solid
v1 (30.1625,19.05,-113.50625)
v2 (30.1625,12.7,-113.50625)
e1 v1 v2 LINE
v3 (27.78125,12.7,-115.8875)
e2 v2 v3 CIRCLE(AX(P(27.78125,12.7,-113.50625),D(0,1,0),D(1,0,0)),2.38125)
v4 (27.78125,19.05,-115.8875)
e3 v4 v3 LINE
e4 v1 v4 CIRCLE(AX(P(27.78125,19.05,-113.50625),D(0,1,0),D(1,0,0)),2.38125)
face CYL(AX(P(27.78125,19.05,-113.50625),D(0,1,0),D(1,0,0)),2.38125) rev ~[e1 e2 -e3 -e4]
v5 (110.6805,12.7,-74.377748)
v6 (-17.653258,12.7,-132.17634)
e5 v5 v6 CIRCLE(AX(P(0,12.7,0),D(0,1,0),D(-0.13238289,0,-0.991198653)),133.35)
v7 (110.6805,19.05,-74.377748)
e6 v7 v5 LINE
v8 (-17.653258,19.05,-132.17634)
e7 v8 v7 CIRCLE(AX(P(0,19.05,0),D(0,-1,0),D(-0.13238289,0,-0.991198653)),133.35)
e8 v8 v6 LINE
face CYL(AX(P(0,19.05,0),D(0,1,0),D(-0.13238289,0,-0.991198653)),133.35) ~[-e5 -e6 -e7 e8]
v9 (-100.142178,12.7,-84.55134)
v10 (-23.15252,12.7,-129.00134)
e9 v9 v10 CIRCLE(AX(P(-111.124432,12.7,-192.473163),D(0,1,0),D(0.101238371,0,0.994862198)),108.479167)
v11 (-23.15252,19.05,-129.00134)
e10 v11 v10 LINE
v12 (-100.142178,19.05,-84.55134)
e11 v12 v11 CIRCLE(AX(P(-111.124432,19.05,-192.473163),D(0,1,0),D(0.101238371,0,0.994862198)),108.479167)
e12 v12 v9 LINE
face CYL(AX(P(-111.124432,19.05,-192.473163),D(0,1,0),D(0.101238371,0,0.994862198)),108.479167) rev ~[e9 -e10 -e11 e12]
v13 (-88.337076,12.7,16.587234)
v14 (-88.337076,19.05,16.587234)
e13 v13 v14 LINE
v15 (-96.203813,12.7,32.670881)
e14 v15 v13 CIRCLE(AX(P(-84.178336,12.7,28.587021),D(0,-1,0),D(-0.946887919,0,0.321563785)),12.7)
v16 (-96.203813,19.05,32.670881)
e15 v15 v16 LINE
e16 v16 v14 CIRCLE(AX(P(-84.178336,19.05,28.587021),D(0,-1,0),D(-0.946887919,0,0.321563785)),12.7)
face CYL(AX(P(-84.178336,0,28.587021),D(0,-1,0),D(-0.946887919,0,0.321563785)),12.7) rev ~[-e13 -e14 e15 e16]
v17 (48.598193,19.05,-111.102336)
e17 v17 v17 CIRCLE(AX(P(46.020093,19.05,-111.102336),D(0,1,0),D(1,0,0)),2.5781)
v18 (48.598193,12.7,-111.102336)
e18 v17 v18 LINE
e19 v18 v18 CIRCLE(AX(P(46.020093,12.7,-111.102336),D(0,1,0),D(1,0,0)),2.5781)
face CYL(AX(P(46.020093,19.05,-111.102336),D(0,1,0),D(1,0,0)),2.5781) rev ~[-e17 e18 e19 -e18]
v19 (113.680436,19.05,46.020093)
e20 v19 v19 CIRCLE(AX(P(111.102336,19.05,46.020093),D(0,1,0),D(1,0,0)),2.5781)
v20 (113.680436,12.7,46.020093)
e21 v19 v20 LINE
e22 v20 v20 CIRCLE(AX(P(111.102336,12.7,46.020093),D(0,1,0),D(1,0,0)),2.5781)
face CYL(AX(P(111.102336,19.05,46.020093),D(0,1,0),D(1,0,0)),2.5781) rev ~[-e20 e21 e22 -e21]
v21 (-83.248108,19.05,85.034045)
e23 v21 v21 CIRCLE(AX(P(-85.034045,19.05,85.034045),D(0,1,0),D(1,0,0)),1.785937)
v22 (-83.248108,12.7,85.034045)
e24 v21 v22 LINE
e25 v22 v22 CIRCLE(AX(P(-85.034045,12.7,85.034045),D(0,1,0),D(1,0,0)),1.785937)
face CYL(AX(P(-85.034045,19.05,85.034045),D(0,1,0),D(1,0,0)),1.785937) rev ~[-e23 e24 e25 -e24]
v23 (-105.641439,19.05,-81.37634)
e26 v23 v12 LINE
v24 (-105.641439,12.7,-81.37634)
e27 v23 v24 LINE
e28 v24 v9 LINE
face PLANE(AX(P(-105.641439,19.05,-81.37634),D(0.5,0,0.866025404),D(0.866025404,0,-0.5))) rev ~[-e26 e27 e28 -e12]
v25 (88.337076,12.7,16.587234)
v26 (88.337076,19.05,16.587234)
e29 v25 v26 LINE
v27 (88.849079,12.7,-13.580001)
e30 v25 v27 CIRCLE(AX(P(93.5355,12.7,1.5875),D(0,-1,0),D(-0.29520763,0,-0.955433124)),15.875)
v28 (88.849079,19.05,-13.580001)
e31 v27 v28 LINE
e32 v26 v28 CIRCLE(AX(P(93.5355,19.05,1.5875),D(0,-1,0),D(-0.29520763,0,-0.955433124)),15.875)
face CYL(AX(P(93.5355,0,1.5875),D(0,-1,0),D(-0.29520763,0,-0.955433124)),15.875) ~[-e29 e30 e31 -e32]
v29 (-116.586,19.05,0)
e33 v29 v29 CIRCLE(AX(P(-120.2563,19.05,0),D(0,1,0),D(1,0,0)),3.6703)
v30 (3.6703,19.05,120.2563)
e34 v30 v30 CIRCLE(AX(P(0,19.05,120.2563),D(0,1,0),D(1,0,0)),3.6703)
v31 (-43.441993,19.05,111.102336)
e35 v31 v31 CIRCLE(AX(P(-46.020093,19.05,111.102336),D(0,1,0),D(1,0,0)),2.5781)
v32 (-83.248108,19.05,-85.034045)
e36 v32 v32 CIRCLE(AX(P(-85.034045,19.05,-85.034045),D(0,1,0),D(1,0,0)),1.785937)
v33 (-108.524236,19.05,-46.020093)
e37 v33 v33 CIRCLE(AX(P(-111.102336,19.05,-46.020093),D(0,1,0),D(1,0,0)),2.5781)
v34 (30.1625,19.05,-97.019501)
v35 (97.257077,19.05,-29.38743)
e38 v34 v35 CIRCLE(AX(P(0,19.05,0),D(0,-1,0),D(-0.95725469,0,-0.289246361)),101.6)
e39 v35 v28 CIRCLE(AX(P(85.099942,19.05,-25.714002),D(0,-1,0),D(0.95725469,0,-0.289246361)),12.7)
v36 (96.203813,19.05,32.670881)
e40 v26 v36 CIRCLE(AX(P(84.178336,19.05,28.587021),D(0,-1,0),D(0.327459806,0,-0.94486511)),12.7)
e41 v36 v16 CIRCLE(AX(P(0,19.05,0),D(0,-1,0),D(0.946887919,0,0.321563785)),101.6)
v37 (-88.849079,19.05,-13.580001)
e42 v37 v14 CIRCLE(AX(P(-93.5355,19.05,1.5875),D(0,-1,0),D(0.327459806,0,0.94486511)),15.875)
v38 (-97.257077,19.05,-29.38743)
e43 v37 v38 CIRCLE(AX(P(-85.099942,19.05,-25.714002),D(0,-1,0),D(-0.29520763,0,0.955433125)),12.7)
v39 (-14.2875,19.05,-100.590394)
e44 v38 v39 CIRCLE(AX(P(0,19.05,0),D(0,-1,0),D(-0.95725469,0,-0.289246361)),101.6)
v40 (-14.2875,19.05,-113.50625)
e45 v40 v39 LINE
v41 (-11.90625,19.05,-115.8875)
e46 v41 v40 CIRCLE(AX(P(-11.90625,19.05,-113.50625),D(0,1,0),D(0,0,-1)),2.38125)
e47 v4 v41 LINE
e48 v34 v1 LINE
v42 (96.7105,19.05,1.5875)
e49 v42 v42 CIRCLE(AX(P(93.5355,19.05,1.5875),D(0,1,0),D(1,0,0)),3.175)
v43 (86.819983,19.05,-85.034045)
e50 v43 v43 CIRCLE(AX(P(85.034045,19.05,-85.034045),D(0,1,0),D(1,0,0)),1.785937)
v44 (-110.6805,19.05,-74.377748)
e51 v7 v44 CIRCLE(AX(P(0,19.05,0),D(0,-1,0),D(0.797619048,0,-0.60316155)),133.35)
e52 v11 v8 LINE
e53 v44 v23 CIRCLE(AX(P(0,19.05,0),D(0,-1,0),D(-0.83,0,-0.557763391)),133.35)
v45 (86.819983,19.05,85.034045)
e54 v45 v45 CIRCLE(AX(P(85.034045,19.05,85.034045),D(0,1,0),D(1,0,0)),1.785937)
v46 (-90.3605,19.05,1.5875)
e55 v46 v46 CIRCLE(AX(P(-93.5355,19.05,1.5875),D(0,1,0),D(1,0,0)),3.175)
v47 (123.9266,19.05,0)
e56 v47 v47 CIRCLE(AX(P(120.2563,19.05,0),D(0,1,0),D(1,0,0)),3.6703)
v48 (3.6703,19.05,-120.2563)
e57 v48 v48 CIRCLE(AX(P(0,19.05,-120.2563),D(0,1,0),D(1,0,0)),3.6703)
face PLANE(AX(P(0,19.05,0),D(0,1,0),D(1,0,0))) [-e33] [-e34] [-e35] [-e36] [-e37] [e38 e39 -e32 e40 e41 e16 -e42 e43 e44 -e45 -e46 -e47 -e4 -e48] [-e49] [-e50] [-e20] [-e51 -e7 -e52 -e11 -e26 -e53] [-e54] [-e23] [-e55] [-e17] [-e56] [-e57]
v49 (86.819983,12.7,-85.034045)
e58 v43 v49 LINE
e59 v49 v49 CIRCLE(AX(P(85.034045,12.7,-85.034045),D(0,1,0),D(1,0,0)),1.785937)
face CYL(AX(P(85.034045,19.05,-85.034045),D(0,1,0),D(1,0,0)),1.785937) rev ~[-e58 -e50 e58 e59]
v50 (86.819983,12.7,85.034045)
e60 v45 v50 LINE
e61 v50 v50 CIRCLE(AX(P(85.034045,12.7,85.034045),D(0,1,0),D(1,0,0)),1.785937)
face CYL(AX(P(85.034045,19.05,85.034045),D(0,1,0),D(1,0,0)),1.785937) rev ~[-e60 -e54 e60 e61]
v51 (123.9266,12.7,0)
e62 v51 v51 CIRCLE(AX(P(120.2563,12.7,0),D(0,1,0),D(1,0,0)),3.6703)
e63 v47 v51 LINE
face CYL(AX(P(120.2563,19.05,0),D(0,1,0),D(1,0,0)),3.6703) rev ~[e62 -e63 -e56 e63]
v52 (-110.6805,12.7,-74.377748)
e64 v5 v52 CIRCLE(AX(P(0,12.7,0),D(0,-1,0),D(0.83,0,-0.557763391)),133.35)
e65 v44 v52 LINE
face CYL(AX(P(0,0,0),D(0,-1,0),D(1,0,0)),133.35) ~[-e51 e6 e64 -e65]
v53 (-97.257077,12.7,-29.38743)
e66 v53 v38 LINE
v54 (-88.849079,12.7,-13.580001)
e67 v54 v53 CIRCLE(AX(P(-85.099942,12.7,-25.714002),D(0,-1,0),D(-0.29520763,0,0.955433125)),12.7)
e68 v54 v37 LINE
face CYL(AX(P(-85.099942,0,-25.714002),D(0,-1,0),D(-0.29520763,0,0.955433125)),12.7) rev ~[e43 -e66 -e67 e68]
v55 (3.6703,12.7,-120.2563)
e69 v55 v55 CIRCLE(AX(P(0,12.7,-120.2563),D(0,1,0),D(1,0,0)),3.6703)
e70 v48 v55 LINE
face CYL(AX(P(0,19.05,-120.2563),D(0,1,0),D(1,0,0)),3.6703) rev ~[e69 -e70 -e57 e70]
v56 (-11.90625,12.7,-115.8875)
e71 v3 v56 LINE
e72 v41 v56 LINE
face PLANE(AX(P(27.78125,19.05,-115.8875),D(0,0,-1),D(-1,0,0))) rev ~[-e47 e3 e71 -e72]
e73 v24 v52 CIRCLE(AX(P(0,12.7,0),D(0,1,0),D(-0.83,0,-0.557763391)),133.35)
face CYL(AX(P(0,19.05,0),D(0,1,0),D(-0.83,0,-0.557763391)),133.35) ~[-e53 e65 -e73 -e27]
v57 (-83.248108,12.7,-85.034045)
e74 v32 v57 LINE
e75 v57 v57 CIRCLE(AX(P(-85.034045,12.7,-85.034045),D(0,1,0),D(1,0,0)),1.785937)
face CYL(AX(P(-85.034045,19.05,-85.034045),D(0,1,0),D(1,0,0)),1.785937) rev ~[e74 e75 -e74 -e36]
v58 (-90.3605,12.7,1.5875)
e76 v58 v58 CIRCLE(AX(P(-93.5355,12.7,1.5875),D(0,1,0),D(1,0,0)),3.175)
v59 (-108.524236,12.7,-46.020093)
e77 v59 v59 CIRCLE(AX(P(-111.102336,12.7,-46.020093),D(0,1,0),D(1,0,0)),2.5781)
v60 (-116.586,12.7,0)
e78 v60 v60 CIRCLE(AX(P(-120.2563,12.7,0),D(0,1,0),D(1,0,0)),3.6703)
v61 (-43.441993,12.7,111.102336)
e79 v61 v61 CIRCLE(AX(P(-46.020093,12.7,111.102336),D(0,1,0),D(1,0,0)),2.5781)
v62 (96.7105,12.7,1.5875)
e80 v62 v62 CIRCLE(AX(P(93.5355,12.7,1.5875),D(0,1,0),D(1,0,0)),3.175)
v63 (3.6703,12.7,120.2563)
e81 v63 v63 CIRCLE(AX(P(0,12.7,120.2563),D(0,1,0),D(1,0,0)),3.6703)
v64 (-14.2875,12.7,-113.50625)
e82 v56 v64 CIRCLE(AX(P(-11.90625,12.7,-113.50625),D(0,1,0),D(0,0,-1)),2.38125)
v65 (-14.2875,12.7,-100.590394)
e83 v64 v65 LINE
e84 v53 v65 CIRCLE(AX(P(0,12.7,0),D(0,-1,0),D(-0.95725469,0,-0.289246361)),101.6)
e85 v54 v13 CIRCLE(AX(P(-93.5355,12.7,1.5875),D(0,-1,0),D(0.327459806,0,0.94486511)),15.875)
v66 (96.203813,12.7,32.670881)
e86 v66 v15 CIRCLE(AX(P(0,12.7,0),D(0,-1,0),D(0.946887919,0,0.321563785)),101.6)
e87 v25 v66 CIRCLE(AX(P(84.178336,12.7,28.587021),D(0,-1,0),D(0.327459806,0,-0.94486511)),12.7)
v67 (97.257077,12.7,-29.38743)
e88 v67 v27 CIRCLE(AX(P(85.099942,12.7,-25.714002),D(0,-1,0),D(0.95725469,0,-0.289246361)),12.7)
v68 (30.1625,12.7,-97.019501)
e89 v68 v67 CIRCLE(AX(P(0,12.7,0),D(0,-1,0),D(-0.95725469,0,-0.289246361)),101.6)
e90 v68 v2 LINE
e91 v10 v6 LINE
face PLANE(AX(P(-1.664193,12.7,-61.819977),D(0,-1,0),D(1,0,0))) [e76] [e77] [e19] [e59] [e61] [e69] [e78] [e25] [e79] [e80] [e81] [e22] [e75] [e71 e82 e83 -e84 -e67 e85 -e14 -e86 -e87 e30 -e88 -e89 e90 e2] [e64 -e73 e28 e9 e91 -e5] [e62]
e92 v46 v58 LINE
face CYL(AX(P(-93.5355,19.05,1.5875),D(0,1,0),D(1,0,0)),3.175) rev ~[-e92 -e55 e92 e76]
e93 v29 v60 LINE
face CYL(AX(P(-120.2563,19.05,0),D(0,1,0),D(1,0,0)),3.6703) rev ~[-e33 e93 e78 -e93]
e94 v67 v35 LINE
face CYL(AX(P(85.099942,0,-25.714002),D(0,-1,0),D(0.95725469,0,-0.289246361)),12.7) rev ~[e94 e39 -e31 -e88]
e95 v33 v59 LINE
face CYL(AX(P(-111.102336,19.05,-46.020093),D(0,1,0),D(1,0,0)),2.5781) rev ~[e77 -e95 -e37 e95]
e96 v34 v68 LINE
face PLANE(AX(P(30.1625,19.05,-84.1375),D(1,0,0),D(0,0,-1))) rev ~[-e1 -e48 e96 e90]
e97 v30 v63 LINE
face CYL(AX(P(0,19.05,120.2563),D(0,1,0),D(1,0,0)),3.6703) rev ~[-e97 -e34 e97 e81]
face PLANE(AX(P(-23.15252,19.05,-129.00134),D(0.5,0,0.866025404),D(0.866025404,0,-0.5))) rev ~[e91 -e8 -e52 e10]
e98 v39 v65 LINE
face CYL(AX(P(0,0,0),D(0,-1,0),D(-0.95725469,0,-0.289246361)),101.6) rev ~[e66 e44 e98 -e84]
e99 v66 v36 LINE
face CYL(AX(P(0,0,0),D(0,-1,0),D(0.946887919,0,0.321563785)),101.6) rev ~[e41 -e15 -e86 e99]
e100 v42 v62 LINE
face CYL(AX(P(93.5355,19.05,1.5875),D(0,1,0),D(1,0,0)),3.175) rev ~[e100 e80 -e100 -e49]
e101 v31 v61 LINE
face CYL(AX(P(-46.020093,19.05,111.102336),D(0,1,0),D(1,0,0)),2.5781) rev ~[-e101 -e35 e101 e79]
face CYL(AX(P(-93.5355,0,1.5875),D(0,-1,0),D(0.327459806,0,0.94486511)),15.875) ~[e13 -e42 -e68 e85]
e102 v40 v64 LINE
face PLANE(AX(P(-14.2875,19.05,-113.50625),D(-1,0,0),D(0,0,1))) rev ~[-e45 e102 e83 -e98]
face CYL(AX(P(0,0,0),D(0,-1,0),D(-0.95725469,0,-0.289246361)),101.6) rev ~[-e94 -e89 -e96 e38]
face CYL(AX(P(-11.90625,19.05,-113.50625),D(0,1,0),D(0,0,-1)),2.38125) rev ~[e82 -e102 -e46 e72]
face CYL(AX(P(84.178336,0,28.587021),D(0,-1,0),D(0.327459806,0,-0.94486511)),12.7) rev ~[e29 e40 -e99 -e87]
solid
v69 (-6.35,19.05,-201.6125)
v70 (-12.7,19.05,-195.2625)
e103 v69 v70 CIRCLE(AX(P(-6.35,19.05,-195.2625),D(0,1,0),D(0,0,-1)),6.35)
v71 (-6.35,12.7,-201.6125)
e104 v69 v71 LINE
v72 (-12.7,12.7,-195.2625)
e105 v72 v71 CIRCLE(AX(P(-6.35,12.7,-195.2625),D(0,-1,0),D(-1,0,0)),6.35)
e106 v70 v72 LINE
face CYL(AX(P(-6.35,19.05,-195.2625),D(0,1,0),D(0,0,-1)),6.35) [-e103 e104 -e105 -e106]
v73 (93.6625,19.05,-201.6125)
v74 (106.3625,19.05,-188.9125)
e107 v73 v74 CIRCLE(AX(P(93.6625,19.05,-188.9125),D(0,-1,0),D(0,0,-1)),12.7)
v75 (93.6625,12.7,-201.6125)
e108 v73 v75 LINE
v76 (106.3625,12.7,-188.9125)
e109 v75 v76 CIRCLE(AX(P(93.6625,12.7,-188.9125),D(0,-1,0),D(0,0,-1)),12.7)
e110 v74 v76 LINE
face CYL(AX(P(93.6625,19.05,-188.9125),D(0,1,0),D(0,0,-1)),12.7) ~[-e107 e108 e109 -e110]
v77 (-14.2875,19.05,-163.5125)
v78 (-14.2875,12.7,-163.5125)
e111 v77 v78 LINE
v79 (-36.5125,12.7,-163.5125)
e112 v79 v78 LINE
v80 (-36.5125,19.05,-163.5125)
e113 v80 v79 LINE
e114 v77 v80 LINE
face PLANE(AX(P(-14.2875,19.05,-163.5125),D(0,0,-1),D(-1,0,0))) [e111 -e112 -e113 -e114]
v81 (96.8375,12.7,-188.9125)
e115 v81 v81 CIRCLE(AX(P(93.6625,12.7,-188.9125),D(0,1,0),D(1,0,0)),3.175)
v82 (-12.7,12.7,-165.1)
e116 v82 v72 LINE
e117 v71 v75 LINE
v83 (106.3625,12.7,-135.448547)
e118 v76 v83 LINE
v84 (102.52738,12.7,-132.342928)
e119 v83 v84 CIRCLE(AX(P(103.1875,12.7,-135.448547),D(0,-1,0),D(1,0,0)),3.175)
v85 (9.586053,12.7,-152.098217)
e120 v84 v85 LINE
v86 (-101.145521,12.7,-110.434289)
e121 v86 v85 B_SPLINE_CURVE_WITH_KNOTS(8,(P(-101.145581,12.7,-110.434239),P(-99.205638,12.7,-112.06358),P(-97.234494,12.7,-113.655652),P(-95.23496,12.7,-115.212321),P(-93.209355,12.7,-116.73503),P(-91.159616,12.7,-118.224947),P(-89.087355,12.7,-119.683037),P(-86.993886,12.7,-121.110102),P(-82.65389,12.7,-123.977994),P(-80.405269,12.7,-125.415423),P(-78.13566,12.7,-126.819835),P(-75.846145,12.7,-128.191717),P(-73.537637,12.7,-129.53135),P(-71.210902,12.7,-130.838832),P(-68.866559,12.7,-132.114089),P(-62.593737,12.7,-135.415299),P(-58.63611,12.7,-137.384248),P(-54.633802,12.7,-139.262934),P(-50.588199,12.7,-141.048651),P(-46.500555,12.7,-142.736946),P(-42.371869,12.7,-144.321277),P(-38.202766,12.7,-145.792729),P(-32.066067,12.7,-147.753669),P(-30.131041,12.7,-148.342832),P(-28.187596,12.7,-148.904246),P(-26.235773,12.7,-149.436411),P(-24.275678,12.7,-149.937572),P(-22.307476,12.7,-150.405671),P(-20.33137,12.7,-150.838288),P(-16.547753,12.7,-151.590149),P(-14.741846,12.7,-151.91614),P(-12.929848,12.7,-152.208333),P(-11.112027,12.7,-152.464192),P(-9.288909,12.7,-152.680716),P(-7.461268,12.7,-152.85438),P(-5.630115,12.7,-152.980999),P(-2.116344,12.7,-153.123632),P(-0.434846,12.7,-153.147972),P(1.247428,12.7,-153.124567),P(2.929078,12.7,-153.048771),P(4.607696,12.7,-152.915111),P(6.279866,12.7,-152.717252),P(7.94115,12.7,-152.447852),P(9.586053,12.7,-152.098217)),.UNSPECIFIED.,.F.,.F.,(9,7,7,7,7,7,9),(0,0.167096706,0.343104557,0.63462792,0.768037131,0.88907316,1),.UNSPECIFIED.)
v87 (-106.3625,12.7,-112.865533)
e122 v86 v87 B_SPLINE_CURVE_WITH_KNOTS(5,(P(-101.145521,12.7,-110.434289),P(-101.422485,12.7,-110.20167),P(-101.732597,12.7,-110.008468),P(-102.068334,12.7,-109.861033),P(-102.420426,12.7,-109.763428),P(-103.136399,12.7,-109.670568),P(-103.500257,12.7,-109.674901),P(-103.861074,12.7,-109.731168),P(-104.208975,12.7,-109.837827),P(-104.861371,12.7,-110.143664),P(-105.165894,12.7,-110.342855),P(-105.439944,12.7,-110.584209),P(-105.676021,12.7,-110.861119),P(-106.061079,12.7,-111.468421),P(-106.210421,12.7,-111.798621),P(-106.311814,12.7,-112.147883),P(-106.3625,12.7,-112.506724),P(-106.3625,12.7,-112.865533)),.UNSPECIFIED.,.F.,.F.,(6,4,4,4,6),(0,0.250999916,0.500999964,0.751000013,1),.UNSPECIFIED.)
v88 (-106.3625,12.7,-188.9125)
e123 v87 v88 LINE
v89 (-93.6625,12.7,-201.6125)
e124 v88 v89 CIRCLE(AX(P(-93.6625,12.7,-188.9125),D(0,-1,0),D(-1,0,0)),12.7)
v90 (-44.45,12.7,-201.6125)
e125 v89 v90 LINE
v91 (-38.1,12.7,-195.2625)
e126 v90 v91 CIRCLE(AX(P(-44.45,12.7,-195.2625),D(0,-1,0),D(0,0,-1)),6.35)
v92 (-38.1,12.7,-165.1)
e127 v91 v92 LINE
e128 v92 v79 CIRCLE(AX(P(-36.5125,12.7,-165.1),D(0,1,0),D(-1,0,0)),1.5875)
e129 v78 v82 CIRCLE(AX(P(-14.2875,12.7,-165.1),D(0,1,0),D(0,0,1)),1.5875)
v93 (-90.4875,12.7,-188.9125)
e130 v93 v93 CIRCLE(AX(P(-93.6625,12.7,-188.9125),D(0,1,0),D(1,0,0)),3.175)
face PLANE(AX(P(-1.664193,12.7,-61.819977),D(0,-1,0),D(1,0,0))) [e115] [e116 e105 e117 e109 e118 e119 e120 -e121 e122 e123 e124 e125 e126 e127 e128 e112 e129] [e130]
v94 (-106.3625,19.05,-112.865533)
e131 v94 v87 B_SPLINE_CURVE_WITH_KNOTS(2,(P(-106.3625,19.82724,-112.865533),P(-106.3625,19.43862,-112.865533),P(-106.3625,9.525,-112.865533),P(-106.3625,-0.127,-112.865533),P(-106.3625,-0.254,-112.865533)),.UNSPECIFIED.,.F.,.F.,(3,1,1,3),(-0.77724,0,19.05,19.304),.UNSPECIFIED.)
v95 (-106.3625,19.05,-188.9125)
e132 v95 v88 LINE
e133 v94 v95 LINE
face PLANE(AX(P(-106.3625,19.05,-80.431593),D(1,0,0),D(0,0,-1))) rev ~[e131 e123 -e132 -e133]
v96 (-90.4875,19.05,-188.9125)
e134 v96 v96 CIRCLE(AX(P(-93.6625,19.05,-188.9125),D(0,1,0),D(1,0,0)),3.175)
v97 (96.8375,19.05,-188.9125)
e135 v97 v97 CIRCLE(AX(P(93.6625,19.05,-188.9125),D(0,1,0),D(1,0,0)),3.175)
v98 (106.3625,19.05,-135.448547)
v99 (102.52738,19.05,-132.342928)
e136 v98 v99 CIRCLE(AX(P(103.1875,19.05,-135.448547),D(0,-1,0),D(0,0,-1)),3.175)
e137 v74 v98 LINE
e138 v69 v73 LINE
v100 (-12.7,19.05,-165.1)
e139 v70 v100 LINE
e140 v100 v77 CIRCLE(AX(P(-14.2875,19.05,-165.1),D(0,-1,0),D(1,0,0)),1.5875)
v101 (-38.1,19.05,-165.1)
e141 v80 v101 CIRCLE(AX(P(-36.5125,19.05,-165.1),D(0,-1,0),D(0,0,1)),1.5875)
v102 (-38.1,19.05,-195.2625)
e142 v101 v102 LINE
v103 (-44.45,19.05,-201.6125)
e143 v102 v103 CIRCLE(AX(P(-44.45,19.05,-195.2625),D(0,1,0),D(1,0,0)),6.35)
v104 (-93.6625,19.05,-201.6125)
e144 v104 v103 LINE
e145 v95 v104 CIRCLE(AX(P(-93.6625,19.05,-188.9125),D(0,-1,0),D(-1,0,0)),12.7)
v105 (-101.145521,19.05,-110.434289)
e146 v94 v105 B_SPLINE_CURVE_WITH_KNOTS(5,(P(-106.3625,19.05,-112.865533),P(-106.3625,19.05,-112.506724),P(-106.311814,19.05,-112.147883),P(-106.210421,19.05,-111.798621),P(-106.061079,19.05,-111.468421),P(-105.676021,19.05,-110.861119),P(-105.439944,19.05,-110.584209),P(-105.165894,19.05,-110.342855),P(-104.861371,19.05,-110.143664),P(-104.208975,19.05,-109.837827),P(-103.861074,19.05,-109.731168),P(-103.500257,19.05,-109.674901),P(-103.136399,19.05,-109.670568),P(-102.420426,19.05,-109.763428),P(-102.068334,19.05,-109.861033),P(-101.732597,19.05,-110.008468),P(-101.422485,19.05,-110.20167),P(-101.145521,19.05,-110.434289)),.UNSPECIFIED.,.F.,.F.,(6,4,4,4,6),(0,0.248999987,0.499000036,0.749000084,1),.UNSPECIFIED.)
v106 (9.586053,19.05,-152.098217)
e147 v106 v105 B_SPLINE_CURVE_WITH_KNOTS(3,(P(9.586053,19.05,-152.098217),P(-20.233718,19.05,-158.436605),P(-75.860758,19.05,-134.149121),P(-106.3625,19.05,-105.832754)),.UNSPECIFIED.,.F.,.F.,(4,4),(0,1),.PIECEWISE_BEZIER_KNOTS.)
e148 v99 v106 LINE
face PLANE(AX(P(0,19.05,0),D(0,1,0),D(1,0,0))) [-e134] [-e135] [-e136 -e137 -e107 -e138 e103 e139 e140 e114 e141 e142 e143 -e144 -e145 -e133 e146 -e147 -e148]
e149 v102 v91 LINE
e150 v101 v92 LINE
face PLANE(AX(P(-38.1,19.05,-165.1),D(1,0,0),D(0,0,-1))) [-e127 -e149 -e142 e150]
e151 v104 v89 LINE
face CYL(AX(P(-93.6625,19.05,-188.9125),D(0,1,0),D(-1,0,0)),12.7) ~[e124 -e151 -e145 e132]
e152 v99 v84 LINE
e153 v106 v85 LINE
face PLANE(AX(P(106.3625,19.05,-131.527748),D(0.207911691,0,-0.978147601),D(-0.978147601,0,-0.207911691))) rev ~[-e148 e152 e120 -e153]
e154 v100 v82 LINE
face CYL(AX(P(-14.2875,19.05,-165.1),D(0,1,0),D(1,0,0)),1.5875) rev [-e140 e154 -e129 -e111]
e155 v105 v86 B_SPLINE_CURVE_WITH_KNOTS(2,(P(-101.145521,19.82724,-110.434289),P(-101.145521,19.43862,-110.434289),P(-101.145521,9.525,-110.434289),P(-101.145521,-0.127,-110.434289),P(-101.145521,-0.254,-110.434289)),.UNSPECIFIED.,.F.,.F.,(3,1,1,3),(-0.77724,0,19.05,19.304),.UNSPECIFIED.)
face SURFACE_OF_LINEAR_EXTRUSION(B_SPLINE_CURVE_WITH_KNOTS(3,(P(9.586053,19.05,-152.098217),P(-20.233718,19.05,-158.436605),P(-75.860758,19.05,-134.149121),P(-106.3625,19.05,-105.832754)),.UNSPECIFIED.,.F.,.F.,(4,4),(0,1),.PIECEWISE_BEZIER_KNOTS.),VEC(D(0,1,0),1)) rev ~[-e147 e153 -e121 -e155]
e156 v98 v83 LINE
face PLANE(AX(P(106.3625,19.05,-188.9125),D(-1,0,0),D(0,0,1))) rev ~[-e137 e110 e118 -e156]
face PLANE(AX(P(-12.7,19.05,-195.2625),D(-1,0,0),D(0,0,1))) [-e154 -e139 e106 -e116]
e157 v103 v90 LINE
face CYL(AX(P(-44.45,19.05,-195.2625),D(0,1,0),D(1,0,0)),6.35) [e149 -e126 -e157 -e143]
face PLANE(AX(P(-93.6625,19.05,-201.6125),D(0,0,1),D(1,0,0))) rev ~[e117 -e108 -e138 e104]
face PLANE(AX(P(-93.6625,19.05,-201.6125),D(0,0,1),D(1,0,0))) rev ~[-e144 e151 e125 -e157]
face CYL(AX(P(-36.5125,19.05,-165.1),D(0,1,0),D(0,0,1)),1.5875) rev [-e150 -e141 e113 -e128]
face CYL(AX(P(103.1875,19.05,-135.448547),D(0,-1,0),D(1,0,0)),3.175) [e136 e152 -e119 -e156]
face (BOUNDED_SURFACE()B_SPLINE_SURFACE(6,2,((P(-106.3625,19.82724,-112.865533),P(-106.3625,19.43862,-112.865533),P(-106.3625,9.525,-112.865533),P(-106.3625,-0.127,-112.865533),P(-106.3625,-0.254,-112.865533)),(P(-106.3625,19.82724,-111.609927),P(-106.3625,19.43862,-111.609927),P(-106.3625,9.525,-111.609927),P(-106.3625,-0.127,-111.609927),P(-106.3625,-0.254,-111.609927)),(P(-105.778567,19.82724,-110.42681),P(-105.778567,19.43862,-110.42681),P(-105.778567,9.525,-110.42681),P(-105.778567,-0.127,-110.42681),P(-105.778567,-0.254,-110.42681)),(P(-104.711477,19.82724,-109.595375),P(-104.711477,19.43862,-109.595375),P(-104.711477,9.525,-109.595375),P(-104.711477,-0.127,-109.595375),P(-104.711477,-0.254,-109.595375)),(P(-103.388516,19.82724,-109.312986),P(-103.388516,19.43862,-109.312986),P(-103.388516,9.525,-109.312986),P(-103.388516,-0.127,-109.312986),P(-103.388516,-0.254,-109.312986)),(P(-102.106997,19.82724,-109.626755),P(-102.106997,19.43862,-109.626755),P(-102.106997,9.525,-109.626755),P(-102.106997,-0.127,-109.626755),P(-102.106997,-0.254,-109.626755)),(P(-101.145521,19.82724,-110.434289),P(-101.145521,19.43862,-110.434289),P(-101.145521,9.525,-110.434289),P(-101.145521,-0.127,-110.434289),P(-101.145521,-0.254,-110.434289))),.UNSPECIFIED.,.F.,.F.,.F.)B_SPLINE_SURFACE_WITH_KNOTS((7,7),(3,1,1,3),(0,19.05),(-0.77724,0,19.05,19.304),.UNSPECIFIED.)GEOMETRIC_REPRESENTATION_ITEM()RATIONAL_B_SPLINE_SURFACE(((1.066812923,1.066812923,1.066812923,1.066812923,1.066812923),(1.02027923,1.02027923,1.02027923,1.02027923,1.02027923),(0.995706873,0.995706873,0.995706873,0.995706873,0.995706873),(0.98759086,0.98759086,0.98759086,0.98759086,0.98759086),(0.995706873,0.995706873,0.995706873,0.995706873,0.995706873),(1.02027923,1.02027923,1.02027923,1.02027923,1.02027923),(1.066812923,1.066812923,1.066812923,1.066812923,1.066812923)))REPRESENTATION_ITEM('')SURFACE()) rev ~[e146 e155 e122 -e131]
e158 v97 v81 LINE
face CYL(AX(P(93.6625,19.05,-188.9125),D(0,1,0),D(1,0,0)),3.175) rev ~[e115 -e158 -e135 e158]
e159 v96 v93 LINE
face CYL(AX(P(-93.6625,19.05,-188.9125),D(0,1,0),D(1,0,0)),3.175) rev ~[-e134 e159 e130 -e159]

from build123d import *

# Parameters (mm, degrees)
SKETCH1_R           = 133.35
BOSS_EXTRUDE1_DEPTH = 19.05
SKETCH2_R           = 3.6703
SKETCH2_R_2         = 2.5781
SKETCH2_R_3         = 1.7859375
CUT_EXTRUDE1_DEPTH  = 20.05
BOSS_EXTRUDE2_DEPTH = 19.05
FILLET1_R           = 25.4
SKETCH4_R           = 3.175
CUT_EXTRUDE2_DEPTH  = 20.05
SKETCH5_R           = 7.9375
CUT_EXTRUDE3_DEPTH  = 12.7
CUT_EXTRUDE4_DEPTH  = 20.05
CUT_EXTRUDE5_DEPTH  = 12.7
FILLET2_R           = 3.175
CUT_EXTRUDE6_DEPTH  = 6.35
CUT_EXTRUDE8_DEPTH  = 12.7


with BuildPart() as part:
    # Sketch1 → Boss-Extrude1 (new body)
    with BuildSketch(Plane(origin=(0, 0, 0), x_dir=(1, 0, 0), z_dir=(0, 1, 0))):
        Circle(SKETCH1_R)
    extrude(amount=BOSS_EXTRUDE1_DEPTH)

    # Sketch2 → Cut-Extrude1 (cut, through all)
    with BuildSketch(Plane(origin=(0, 19.05, 0), x_dir=(1, 0, 0), z_dir=(0, 1, 0))):
        with Locations((-120.2563, 0)):
            Circle(SKETCH2_R)
        with Locations((-111.10233558, 46.02009338)):
            Circle(SKETCH2_R_2)
        with Locations((120.2563, 0)):
            Circle(SKETCH2_R)
        with Locations((0, -120.2563)):
            Circle(SKETCH2_R)
        with Locations((0, 120.2563)):
            Circle(SKETCH2_R)
        with Locations((111.10233558, -46.02009338)):
            Circle(SKETCH2_R_2)
        with Locations((-46.02009338, -111.10233558)):
            Circle(SKETCH2_R_2)
        with Locations((46.02009338, 111.10233558)):
            Circle(SKETCH2_R_2)
        with Locations((-85.03404521, -85.03404521)):
            Circle(SKETCH2_R_3)
        with Locations((85.03404521, 85.03404521)):
            Circle(SKETCH2_R_3)
        with Locations((-85.03404521, 85.03404521)):
            Circle(SKETCH2_R_3)
        with Locations((85.03404521, -85.03404521)):
            Circle(SKETCH2_R_3)
    extrude(amount=-CUT_EXTRUDE1_DEPTH, mode=Mode.SUBTRACT)

    # Sketch3 → Boss-Extrude2 (add)
    with BuildSketch(Plane(origin=(0, 19.05, 0), x_dir=(1, 0, 0), z_dir=(0, 1, 0))):
        with BuildLine():
            Line((-106.3625, 80.431592635), (-106.3625, 188.9125))
            ThreePointArc((-106.3625, 188.9125), (-102.642756121, 197.892756121), (-93.6625, 201.6125))
            Line((-93.6625, 201.6125), (93.6625, 201.6125))
            ThreePointArc((93.6625, 201.6125), (102.642756121, 197.892756121), (106.3625, 188.9125))
            Line((106.3625, 188.9125), (106.3625, 80.431592635))
            ThreePointArc((106.3625, 80.431592635), (0, 133.35), (-106.3625, 80.431592635))
        make_face()
    extrude(amount=-BOSS_EXTRUDE2_DEPTH)

    # Fillet1
    fillet1_edges = [part.edges().sort_by_distance(p)[0] for p in [
        (106.3625, 9.525, -80.431592635),
        (-106.3625, 9.525, -80.431592635),
    ]]
    fillet(fillet1_edges, radius=FILLET1_R)

    # Sketch4 → Cut-Extrude2 (cut, through all)
    with BuildSketch(Plane(origin=(0, 19.05, 0), x_dir=(1, 0, 0), z_dir=(0, 1, 0))):
        with Locations((-93.6625, 188.9125)):
            Circle(SKETCH4_R)
        with Locations((93.6625, 188.9125)):
            Circle(SKETCH4_R)
        with Locations((93.5355, -1.5875)):
            Circle(SKETCH4_R)
        with Locations((-93.5355, -1.5875)):
            Circle(SKETCH4_R)
        with BuildLine():
            Line((-38.1, 165.1), (-38.1, 195.2625))
            ThreePointArc((-38.1, 195.2625), (-39.959871939, 199.752628061), (-44.45, 201.6125))
            Line((-44.45, 201.6125), (-6.35, 201.6125))
            ThreePointArc((-6.35, 201.6125), (-10.840128061, 199.752628061), (-12.7, 195.2625))
            Line((-12.7, 195.2625), (-12.7, 165.1))
            ThreePointArc((-12.7, 165.1), (-13.164967985, 163.977467985), (-14.2875, 163.5125))
            Line((-14.2875, 163.5125), (-36.5125, 163.5125))
            ThreePointArc((-36.5125, 163.5125), (-37.635032015, 163.977467985), (-38.1, 165.1))
        make_face()
    extrude(amount=-CUT_EXTRUDE2_DEPTH, mode=Mode.SUBTRACT)

    # Sketch5 → Cut-Extrude3 (cut)
    with BuildSketch(Plane.XZ):
        with Locations((-93.5355, 1.5875)):
            Circle(SKETCH5_R)
        with Locations((-93.6625, -188.9125)):
            Circle(SKETCH5_R)
        with Locations((93.6625, -188.9125)):
            Circle(SKETCH5_R)
        with Locations((93.5355, 1.5875)):
            Circle(SKETCH5_R)
    extrude(amount=-CUT_EXTRUDE3_DEPTH, mode=Mode.SUBTRACT)

    # Sketch6 → Cut-Extrude4 (cut, through all)
    with BuildSketch(Plane.XZ):
        with BuildLine():
            ThreePointArc((-97.25707655, -29.387430322), (0, -101.6), (97.25707655, -29.387430322))
            ThreePointArc((97.25707655, -29.387430322), (96.312482934, -19.750032603), (88.849078878, -13.580000851))
            ThreePointArc((88.849078878, -13.580000851), (77.662785938, 1.318105668), (88.337075578, 16.587233615))
            ThreePointArc((88.337075578, 16.587233615), (95.586803849, 23.006979086), (96.203812617, 32.67088058))
            ThreePointArc((96.203812617, 32.67088058), (0, 101.6), (-96.203812617, 32.67088058))
            ThreePointArc((-96.203812617, 32.67088058), (-95.586803849, 23.006979086), (-88.337075578, 16.587233615))
            ThreePointArc((-88.337075578, 16.587233615), (-77.662785938, 1.318105668), (-88.849078878, -13.580000851))
            ThreePointArc((-88.849078878, -13.580000851), (-96.312482934, -19.750032603), (-97.25707655, -29.387430322))
        make_face()
    extrude(amount=-CUT_EXTRUDE4_DEPTH, mode=Mode.SUBTRACT)

    # Sketch7 → Cut-Extrude5 (cut)
    with BuildSketch(Plane(origin=(0, 19.05, 0), x_dir=(1, 0, 0), z_dir=(0, 1, 0))):
        with BuildLine():
            Line((106.3625, 131.527748149), (9.586053414, 152.098216886))
            add(Edge.make_bspline(
                [(9.586053414, 152.098216886), (-20.233717631, 158.436604889), (-75.860757578, 134.149121206), (-106.3625, 105.832753729)],
                knots=[0, 0, 0, 0, 1, 1, 1, 1], degree=3))
            Line((-106.3625, 105.832753729), (-110.6805, 74.377748149))
            ThreePointArc((-110.6805, 74.377748149), (-108.217560682, 77.917790395), (-105.641439401, 81.376340427))
            Line((-105.641439401, 81.376340427), (-100.142178087, 84.551340427))
            ThreePointArc((-100.142178087, 84.551340427), (-56.884848889, 98.527448456), (-23.15251969, 129.001340427))
            Line((-23.15251969, 129.001340427), (-17.653258376, 132.176340427))
            ThreePointArc((-17.653258376, 132.176340427), (54.760261489, 121.58756623), (110.6805, 74.377748149))
            Line((110.6805, 74.377748149), (106.3625, 131.527748149))
        make_face()
    extrude(amount=-CUT_EXTRUDE5_DEPTH, mode=Mode.SUBTRACT)

    # Fillet2
    fillet2_edges = [part.edges().sort_by_distance(p)[0] for p in [
        (-106.3625, 12.7, -105.832753729),
        (106.3625, 12.7, -131.527748149),
    ]]
    fillet(fillet2_edges, radius=FILLET2_R)

    # Sketch8 → Cut-Extrude6 (cut)
    with BuildSketch(Plane(origin=(0, 19.05, 0), x_dir=(1, 0, 0), z_dir=(0, 1, 0))):
        with BuildLine():
            Line((27.78125, 115.8875), (-11.90625, 115.8875))
            ThreePointArc((-11.90625, 115.8875), (-13.590048023, 115.190048023), (-14.2875, 113.50625))
            Line((-14.2875, 113.50625), (-14.2875, 84.1375))
            Line((-14.2875, 84.1375), (30.1625, 84.1375))
            Line((30.1625, 84.1375), (30.1625, 113.50625))
            ThreePointArc((30.1625, 113.50625), (29.465048023, 115.190048023), (27.78125, 115.8875))
        make_face()
    extrude(amount=-CUT_EXTRUDE6_DEPTH, mode=Mode.SUBTRACT)

    # Sketch10 → Cut-Extrude8 (cut)
    with BuildSketch(Plane.XZ):
        with BuildLine():
            Line((-93.6625, -201.6125), (-44.45, -201.6125))
            ThreePointArc((-44.45, -201.6125), (-39.959871939, -199.752628061), (-38.1, -195.2625))
            Line((-38.1, -195.2625), (-38.1, -165.1))
            ThreePointArc((-38.1, -165.1), (-37.635032015, -163.977467985), (-36.5125, -163.5125))
            Line((-36.5125, -163.5125), (-14.2875, -163.5125))
            ThreePointArc((-14.2875, -163.5125), (-13.164967985, -163.977467985), (-12.7, -165.1))
            Line((-12.7, -165.1), (-12.7, -195.2625))
            ThreePointArc((-12.7, -195.2625), (-10.840128061, -199.752628061), (-6.35, -201.6125))
            Line((-6.35, -201.6125), (93.6625, -201.6125))
            ThreePointArc((93.6625, -201.6125), (102.642756121, -197.892756121), (106.3625, -188.9125))
            Line((106.3625, -188.9125), (106.3625, -88.544938273))
            ThreePointArc((106.3625, -88.544938273), (107.465969383, -81.139629366), (110.6805, -74.377748149))
            ThreePointArc((110.6805, -74.377748149), (0, 133.35), (-110.6805, -74.377748149))
            ThreePointArc((-110.6805, -74.377748149), (-107.465969383, -81.139629366), (-106.3625, -88.544938273))
            Line((-106.3625, -88.544938273), (-106.3625, -188.9125))
            ThreePointArc((-106.3625, -188.9125), (-102.642756121, -197.892756121), (-93.6625, -201.6125))
        make_face()
    extrude(amount=-CUT_EXTRUDE8_DEPTH, mode=Mode.SUBTRACT)


solid = part.part
